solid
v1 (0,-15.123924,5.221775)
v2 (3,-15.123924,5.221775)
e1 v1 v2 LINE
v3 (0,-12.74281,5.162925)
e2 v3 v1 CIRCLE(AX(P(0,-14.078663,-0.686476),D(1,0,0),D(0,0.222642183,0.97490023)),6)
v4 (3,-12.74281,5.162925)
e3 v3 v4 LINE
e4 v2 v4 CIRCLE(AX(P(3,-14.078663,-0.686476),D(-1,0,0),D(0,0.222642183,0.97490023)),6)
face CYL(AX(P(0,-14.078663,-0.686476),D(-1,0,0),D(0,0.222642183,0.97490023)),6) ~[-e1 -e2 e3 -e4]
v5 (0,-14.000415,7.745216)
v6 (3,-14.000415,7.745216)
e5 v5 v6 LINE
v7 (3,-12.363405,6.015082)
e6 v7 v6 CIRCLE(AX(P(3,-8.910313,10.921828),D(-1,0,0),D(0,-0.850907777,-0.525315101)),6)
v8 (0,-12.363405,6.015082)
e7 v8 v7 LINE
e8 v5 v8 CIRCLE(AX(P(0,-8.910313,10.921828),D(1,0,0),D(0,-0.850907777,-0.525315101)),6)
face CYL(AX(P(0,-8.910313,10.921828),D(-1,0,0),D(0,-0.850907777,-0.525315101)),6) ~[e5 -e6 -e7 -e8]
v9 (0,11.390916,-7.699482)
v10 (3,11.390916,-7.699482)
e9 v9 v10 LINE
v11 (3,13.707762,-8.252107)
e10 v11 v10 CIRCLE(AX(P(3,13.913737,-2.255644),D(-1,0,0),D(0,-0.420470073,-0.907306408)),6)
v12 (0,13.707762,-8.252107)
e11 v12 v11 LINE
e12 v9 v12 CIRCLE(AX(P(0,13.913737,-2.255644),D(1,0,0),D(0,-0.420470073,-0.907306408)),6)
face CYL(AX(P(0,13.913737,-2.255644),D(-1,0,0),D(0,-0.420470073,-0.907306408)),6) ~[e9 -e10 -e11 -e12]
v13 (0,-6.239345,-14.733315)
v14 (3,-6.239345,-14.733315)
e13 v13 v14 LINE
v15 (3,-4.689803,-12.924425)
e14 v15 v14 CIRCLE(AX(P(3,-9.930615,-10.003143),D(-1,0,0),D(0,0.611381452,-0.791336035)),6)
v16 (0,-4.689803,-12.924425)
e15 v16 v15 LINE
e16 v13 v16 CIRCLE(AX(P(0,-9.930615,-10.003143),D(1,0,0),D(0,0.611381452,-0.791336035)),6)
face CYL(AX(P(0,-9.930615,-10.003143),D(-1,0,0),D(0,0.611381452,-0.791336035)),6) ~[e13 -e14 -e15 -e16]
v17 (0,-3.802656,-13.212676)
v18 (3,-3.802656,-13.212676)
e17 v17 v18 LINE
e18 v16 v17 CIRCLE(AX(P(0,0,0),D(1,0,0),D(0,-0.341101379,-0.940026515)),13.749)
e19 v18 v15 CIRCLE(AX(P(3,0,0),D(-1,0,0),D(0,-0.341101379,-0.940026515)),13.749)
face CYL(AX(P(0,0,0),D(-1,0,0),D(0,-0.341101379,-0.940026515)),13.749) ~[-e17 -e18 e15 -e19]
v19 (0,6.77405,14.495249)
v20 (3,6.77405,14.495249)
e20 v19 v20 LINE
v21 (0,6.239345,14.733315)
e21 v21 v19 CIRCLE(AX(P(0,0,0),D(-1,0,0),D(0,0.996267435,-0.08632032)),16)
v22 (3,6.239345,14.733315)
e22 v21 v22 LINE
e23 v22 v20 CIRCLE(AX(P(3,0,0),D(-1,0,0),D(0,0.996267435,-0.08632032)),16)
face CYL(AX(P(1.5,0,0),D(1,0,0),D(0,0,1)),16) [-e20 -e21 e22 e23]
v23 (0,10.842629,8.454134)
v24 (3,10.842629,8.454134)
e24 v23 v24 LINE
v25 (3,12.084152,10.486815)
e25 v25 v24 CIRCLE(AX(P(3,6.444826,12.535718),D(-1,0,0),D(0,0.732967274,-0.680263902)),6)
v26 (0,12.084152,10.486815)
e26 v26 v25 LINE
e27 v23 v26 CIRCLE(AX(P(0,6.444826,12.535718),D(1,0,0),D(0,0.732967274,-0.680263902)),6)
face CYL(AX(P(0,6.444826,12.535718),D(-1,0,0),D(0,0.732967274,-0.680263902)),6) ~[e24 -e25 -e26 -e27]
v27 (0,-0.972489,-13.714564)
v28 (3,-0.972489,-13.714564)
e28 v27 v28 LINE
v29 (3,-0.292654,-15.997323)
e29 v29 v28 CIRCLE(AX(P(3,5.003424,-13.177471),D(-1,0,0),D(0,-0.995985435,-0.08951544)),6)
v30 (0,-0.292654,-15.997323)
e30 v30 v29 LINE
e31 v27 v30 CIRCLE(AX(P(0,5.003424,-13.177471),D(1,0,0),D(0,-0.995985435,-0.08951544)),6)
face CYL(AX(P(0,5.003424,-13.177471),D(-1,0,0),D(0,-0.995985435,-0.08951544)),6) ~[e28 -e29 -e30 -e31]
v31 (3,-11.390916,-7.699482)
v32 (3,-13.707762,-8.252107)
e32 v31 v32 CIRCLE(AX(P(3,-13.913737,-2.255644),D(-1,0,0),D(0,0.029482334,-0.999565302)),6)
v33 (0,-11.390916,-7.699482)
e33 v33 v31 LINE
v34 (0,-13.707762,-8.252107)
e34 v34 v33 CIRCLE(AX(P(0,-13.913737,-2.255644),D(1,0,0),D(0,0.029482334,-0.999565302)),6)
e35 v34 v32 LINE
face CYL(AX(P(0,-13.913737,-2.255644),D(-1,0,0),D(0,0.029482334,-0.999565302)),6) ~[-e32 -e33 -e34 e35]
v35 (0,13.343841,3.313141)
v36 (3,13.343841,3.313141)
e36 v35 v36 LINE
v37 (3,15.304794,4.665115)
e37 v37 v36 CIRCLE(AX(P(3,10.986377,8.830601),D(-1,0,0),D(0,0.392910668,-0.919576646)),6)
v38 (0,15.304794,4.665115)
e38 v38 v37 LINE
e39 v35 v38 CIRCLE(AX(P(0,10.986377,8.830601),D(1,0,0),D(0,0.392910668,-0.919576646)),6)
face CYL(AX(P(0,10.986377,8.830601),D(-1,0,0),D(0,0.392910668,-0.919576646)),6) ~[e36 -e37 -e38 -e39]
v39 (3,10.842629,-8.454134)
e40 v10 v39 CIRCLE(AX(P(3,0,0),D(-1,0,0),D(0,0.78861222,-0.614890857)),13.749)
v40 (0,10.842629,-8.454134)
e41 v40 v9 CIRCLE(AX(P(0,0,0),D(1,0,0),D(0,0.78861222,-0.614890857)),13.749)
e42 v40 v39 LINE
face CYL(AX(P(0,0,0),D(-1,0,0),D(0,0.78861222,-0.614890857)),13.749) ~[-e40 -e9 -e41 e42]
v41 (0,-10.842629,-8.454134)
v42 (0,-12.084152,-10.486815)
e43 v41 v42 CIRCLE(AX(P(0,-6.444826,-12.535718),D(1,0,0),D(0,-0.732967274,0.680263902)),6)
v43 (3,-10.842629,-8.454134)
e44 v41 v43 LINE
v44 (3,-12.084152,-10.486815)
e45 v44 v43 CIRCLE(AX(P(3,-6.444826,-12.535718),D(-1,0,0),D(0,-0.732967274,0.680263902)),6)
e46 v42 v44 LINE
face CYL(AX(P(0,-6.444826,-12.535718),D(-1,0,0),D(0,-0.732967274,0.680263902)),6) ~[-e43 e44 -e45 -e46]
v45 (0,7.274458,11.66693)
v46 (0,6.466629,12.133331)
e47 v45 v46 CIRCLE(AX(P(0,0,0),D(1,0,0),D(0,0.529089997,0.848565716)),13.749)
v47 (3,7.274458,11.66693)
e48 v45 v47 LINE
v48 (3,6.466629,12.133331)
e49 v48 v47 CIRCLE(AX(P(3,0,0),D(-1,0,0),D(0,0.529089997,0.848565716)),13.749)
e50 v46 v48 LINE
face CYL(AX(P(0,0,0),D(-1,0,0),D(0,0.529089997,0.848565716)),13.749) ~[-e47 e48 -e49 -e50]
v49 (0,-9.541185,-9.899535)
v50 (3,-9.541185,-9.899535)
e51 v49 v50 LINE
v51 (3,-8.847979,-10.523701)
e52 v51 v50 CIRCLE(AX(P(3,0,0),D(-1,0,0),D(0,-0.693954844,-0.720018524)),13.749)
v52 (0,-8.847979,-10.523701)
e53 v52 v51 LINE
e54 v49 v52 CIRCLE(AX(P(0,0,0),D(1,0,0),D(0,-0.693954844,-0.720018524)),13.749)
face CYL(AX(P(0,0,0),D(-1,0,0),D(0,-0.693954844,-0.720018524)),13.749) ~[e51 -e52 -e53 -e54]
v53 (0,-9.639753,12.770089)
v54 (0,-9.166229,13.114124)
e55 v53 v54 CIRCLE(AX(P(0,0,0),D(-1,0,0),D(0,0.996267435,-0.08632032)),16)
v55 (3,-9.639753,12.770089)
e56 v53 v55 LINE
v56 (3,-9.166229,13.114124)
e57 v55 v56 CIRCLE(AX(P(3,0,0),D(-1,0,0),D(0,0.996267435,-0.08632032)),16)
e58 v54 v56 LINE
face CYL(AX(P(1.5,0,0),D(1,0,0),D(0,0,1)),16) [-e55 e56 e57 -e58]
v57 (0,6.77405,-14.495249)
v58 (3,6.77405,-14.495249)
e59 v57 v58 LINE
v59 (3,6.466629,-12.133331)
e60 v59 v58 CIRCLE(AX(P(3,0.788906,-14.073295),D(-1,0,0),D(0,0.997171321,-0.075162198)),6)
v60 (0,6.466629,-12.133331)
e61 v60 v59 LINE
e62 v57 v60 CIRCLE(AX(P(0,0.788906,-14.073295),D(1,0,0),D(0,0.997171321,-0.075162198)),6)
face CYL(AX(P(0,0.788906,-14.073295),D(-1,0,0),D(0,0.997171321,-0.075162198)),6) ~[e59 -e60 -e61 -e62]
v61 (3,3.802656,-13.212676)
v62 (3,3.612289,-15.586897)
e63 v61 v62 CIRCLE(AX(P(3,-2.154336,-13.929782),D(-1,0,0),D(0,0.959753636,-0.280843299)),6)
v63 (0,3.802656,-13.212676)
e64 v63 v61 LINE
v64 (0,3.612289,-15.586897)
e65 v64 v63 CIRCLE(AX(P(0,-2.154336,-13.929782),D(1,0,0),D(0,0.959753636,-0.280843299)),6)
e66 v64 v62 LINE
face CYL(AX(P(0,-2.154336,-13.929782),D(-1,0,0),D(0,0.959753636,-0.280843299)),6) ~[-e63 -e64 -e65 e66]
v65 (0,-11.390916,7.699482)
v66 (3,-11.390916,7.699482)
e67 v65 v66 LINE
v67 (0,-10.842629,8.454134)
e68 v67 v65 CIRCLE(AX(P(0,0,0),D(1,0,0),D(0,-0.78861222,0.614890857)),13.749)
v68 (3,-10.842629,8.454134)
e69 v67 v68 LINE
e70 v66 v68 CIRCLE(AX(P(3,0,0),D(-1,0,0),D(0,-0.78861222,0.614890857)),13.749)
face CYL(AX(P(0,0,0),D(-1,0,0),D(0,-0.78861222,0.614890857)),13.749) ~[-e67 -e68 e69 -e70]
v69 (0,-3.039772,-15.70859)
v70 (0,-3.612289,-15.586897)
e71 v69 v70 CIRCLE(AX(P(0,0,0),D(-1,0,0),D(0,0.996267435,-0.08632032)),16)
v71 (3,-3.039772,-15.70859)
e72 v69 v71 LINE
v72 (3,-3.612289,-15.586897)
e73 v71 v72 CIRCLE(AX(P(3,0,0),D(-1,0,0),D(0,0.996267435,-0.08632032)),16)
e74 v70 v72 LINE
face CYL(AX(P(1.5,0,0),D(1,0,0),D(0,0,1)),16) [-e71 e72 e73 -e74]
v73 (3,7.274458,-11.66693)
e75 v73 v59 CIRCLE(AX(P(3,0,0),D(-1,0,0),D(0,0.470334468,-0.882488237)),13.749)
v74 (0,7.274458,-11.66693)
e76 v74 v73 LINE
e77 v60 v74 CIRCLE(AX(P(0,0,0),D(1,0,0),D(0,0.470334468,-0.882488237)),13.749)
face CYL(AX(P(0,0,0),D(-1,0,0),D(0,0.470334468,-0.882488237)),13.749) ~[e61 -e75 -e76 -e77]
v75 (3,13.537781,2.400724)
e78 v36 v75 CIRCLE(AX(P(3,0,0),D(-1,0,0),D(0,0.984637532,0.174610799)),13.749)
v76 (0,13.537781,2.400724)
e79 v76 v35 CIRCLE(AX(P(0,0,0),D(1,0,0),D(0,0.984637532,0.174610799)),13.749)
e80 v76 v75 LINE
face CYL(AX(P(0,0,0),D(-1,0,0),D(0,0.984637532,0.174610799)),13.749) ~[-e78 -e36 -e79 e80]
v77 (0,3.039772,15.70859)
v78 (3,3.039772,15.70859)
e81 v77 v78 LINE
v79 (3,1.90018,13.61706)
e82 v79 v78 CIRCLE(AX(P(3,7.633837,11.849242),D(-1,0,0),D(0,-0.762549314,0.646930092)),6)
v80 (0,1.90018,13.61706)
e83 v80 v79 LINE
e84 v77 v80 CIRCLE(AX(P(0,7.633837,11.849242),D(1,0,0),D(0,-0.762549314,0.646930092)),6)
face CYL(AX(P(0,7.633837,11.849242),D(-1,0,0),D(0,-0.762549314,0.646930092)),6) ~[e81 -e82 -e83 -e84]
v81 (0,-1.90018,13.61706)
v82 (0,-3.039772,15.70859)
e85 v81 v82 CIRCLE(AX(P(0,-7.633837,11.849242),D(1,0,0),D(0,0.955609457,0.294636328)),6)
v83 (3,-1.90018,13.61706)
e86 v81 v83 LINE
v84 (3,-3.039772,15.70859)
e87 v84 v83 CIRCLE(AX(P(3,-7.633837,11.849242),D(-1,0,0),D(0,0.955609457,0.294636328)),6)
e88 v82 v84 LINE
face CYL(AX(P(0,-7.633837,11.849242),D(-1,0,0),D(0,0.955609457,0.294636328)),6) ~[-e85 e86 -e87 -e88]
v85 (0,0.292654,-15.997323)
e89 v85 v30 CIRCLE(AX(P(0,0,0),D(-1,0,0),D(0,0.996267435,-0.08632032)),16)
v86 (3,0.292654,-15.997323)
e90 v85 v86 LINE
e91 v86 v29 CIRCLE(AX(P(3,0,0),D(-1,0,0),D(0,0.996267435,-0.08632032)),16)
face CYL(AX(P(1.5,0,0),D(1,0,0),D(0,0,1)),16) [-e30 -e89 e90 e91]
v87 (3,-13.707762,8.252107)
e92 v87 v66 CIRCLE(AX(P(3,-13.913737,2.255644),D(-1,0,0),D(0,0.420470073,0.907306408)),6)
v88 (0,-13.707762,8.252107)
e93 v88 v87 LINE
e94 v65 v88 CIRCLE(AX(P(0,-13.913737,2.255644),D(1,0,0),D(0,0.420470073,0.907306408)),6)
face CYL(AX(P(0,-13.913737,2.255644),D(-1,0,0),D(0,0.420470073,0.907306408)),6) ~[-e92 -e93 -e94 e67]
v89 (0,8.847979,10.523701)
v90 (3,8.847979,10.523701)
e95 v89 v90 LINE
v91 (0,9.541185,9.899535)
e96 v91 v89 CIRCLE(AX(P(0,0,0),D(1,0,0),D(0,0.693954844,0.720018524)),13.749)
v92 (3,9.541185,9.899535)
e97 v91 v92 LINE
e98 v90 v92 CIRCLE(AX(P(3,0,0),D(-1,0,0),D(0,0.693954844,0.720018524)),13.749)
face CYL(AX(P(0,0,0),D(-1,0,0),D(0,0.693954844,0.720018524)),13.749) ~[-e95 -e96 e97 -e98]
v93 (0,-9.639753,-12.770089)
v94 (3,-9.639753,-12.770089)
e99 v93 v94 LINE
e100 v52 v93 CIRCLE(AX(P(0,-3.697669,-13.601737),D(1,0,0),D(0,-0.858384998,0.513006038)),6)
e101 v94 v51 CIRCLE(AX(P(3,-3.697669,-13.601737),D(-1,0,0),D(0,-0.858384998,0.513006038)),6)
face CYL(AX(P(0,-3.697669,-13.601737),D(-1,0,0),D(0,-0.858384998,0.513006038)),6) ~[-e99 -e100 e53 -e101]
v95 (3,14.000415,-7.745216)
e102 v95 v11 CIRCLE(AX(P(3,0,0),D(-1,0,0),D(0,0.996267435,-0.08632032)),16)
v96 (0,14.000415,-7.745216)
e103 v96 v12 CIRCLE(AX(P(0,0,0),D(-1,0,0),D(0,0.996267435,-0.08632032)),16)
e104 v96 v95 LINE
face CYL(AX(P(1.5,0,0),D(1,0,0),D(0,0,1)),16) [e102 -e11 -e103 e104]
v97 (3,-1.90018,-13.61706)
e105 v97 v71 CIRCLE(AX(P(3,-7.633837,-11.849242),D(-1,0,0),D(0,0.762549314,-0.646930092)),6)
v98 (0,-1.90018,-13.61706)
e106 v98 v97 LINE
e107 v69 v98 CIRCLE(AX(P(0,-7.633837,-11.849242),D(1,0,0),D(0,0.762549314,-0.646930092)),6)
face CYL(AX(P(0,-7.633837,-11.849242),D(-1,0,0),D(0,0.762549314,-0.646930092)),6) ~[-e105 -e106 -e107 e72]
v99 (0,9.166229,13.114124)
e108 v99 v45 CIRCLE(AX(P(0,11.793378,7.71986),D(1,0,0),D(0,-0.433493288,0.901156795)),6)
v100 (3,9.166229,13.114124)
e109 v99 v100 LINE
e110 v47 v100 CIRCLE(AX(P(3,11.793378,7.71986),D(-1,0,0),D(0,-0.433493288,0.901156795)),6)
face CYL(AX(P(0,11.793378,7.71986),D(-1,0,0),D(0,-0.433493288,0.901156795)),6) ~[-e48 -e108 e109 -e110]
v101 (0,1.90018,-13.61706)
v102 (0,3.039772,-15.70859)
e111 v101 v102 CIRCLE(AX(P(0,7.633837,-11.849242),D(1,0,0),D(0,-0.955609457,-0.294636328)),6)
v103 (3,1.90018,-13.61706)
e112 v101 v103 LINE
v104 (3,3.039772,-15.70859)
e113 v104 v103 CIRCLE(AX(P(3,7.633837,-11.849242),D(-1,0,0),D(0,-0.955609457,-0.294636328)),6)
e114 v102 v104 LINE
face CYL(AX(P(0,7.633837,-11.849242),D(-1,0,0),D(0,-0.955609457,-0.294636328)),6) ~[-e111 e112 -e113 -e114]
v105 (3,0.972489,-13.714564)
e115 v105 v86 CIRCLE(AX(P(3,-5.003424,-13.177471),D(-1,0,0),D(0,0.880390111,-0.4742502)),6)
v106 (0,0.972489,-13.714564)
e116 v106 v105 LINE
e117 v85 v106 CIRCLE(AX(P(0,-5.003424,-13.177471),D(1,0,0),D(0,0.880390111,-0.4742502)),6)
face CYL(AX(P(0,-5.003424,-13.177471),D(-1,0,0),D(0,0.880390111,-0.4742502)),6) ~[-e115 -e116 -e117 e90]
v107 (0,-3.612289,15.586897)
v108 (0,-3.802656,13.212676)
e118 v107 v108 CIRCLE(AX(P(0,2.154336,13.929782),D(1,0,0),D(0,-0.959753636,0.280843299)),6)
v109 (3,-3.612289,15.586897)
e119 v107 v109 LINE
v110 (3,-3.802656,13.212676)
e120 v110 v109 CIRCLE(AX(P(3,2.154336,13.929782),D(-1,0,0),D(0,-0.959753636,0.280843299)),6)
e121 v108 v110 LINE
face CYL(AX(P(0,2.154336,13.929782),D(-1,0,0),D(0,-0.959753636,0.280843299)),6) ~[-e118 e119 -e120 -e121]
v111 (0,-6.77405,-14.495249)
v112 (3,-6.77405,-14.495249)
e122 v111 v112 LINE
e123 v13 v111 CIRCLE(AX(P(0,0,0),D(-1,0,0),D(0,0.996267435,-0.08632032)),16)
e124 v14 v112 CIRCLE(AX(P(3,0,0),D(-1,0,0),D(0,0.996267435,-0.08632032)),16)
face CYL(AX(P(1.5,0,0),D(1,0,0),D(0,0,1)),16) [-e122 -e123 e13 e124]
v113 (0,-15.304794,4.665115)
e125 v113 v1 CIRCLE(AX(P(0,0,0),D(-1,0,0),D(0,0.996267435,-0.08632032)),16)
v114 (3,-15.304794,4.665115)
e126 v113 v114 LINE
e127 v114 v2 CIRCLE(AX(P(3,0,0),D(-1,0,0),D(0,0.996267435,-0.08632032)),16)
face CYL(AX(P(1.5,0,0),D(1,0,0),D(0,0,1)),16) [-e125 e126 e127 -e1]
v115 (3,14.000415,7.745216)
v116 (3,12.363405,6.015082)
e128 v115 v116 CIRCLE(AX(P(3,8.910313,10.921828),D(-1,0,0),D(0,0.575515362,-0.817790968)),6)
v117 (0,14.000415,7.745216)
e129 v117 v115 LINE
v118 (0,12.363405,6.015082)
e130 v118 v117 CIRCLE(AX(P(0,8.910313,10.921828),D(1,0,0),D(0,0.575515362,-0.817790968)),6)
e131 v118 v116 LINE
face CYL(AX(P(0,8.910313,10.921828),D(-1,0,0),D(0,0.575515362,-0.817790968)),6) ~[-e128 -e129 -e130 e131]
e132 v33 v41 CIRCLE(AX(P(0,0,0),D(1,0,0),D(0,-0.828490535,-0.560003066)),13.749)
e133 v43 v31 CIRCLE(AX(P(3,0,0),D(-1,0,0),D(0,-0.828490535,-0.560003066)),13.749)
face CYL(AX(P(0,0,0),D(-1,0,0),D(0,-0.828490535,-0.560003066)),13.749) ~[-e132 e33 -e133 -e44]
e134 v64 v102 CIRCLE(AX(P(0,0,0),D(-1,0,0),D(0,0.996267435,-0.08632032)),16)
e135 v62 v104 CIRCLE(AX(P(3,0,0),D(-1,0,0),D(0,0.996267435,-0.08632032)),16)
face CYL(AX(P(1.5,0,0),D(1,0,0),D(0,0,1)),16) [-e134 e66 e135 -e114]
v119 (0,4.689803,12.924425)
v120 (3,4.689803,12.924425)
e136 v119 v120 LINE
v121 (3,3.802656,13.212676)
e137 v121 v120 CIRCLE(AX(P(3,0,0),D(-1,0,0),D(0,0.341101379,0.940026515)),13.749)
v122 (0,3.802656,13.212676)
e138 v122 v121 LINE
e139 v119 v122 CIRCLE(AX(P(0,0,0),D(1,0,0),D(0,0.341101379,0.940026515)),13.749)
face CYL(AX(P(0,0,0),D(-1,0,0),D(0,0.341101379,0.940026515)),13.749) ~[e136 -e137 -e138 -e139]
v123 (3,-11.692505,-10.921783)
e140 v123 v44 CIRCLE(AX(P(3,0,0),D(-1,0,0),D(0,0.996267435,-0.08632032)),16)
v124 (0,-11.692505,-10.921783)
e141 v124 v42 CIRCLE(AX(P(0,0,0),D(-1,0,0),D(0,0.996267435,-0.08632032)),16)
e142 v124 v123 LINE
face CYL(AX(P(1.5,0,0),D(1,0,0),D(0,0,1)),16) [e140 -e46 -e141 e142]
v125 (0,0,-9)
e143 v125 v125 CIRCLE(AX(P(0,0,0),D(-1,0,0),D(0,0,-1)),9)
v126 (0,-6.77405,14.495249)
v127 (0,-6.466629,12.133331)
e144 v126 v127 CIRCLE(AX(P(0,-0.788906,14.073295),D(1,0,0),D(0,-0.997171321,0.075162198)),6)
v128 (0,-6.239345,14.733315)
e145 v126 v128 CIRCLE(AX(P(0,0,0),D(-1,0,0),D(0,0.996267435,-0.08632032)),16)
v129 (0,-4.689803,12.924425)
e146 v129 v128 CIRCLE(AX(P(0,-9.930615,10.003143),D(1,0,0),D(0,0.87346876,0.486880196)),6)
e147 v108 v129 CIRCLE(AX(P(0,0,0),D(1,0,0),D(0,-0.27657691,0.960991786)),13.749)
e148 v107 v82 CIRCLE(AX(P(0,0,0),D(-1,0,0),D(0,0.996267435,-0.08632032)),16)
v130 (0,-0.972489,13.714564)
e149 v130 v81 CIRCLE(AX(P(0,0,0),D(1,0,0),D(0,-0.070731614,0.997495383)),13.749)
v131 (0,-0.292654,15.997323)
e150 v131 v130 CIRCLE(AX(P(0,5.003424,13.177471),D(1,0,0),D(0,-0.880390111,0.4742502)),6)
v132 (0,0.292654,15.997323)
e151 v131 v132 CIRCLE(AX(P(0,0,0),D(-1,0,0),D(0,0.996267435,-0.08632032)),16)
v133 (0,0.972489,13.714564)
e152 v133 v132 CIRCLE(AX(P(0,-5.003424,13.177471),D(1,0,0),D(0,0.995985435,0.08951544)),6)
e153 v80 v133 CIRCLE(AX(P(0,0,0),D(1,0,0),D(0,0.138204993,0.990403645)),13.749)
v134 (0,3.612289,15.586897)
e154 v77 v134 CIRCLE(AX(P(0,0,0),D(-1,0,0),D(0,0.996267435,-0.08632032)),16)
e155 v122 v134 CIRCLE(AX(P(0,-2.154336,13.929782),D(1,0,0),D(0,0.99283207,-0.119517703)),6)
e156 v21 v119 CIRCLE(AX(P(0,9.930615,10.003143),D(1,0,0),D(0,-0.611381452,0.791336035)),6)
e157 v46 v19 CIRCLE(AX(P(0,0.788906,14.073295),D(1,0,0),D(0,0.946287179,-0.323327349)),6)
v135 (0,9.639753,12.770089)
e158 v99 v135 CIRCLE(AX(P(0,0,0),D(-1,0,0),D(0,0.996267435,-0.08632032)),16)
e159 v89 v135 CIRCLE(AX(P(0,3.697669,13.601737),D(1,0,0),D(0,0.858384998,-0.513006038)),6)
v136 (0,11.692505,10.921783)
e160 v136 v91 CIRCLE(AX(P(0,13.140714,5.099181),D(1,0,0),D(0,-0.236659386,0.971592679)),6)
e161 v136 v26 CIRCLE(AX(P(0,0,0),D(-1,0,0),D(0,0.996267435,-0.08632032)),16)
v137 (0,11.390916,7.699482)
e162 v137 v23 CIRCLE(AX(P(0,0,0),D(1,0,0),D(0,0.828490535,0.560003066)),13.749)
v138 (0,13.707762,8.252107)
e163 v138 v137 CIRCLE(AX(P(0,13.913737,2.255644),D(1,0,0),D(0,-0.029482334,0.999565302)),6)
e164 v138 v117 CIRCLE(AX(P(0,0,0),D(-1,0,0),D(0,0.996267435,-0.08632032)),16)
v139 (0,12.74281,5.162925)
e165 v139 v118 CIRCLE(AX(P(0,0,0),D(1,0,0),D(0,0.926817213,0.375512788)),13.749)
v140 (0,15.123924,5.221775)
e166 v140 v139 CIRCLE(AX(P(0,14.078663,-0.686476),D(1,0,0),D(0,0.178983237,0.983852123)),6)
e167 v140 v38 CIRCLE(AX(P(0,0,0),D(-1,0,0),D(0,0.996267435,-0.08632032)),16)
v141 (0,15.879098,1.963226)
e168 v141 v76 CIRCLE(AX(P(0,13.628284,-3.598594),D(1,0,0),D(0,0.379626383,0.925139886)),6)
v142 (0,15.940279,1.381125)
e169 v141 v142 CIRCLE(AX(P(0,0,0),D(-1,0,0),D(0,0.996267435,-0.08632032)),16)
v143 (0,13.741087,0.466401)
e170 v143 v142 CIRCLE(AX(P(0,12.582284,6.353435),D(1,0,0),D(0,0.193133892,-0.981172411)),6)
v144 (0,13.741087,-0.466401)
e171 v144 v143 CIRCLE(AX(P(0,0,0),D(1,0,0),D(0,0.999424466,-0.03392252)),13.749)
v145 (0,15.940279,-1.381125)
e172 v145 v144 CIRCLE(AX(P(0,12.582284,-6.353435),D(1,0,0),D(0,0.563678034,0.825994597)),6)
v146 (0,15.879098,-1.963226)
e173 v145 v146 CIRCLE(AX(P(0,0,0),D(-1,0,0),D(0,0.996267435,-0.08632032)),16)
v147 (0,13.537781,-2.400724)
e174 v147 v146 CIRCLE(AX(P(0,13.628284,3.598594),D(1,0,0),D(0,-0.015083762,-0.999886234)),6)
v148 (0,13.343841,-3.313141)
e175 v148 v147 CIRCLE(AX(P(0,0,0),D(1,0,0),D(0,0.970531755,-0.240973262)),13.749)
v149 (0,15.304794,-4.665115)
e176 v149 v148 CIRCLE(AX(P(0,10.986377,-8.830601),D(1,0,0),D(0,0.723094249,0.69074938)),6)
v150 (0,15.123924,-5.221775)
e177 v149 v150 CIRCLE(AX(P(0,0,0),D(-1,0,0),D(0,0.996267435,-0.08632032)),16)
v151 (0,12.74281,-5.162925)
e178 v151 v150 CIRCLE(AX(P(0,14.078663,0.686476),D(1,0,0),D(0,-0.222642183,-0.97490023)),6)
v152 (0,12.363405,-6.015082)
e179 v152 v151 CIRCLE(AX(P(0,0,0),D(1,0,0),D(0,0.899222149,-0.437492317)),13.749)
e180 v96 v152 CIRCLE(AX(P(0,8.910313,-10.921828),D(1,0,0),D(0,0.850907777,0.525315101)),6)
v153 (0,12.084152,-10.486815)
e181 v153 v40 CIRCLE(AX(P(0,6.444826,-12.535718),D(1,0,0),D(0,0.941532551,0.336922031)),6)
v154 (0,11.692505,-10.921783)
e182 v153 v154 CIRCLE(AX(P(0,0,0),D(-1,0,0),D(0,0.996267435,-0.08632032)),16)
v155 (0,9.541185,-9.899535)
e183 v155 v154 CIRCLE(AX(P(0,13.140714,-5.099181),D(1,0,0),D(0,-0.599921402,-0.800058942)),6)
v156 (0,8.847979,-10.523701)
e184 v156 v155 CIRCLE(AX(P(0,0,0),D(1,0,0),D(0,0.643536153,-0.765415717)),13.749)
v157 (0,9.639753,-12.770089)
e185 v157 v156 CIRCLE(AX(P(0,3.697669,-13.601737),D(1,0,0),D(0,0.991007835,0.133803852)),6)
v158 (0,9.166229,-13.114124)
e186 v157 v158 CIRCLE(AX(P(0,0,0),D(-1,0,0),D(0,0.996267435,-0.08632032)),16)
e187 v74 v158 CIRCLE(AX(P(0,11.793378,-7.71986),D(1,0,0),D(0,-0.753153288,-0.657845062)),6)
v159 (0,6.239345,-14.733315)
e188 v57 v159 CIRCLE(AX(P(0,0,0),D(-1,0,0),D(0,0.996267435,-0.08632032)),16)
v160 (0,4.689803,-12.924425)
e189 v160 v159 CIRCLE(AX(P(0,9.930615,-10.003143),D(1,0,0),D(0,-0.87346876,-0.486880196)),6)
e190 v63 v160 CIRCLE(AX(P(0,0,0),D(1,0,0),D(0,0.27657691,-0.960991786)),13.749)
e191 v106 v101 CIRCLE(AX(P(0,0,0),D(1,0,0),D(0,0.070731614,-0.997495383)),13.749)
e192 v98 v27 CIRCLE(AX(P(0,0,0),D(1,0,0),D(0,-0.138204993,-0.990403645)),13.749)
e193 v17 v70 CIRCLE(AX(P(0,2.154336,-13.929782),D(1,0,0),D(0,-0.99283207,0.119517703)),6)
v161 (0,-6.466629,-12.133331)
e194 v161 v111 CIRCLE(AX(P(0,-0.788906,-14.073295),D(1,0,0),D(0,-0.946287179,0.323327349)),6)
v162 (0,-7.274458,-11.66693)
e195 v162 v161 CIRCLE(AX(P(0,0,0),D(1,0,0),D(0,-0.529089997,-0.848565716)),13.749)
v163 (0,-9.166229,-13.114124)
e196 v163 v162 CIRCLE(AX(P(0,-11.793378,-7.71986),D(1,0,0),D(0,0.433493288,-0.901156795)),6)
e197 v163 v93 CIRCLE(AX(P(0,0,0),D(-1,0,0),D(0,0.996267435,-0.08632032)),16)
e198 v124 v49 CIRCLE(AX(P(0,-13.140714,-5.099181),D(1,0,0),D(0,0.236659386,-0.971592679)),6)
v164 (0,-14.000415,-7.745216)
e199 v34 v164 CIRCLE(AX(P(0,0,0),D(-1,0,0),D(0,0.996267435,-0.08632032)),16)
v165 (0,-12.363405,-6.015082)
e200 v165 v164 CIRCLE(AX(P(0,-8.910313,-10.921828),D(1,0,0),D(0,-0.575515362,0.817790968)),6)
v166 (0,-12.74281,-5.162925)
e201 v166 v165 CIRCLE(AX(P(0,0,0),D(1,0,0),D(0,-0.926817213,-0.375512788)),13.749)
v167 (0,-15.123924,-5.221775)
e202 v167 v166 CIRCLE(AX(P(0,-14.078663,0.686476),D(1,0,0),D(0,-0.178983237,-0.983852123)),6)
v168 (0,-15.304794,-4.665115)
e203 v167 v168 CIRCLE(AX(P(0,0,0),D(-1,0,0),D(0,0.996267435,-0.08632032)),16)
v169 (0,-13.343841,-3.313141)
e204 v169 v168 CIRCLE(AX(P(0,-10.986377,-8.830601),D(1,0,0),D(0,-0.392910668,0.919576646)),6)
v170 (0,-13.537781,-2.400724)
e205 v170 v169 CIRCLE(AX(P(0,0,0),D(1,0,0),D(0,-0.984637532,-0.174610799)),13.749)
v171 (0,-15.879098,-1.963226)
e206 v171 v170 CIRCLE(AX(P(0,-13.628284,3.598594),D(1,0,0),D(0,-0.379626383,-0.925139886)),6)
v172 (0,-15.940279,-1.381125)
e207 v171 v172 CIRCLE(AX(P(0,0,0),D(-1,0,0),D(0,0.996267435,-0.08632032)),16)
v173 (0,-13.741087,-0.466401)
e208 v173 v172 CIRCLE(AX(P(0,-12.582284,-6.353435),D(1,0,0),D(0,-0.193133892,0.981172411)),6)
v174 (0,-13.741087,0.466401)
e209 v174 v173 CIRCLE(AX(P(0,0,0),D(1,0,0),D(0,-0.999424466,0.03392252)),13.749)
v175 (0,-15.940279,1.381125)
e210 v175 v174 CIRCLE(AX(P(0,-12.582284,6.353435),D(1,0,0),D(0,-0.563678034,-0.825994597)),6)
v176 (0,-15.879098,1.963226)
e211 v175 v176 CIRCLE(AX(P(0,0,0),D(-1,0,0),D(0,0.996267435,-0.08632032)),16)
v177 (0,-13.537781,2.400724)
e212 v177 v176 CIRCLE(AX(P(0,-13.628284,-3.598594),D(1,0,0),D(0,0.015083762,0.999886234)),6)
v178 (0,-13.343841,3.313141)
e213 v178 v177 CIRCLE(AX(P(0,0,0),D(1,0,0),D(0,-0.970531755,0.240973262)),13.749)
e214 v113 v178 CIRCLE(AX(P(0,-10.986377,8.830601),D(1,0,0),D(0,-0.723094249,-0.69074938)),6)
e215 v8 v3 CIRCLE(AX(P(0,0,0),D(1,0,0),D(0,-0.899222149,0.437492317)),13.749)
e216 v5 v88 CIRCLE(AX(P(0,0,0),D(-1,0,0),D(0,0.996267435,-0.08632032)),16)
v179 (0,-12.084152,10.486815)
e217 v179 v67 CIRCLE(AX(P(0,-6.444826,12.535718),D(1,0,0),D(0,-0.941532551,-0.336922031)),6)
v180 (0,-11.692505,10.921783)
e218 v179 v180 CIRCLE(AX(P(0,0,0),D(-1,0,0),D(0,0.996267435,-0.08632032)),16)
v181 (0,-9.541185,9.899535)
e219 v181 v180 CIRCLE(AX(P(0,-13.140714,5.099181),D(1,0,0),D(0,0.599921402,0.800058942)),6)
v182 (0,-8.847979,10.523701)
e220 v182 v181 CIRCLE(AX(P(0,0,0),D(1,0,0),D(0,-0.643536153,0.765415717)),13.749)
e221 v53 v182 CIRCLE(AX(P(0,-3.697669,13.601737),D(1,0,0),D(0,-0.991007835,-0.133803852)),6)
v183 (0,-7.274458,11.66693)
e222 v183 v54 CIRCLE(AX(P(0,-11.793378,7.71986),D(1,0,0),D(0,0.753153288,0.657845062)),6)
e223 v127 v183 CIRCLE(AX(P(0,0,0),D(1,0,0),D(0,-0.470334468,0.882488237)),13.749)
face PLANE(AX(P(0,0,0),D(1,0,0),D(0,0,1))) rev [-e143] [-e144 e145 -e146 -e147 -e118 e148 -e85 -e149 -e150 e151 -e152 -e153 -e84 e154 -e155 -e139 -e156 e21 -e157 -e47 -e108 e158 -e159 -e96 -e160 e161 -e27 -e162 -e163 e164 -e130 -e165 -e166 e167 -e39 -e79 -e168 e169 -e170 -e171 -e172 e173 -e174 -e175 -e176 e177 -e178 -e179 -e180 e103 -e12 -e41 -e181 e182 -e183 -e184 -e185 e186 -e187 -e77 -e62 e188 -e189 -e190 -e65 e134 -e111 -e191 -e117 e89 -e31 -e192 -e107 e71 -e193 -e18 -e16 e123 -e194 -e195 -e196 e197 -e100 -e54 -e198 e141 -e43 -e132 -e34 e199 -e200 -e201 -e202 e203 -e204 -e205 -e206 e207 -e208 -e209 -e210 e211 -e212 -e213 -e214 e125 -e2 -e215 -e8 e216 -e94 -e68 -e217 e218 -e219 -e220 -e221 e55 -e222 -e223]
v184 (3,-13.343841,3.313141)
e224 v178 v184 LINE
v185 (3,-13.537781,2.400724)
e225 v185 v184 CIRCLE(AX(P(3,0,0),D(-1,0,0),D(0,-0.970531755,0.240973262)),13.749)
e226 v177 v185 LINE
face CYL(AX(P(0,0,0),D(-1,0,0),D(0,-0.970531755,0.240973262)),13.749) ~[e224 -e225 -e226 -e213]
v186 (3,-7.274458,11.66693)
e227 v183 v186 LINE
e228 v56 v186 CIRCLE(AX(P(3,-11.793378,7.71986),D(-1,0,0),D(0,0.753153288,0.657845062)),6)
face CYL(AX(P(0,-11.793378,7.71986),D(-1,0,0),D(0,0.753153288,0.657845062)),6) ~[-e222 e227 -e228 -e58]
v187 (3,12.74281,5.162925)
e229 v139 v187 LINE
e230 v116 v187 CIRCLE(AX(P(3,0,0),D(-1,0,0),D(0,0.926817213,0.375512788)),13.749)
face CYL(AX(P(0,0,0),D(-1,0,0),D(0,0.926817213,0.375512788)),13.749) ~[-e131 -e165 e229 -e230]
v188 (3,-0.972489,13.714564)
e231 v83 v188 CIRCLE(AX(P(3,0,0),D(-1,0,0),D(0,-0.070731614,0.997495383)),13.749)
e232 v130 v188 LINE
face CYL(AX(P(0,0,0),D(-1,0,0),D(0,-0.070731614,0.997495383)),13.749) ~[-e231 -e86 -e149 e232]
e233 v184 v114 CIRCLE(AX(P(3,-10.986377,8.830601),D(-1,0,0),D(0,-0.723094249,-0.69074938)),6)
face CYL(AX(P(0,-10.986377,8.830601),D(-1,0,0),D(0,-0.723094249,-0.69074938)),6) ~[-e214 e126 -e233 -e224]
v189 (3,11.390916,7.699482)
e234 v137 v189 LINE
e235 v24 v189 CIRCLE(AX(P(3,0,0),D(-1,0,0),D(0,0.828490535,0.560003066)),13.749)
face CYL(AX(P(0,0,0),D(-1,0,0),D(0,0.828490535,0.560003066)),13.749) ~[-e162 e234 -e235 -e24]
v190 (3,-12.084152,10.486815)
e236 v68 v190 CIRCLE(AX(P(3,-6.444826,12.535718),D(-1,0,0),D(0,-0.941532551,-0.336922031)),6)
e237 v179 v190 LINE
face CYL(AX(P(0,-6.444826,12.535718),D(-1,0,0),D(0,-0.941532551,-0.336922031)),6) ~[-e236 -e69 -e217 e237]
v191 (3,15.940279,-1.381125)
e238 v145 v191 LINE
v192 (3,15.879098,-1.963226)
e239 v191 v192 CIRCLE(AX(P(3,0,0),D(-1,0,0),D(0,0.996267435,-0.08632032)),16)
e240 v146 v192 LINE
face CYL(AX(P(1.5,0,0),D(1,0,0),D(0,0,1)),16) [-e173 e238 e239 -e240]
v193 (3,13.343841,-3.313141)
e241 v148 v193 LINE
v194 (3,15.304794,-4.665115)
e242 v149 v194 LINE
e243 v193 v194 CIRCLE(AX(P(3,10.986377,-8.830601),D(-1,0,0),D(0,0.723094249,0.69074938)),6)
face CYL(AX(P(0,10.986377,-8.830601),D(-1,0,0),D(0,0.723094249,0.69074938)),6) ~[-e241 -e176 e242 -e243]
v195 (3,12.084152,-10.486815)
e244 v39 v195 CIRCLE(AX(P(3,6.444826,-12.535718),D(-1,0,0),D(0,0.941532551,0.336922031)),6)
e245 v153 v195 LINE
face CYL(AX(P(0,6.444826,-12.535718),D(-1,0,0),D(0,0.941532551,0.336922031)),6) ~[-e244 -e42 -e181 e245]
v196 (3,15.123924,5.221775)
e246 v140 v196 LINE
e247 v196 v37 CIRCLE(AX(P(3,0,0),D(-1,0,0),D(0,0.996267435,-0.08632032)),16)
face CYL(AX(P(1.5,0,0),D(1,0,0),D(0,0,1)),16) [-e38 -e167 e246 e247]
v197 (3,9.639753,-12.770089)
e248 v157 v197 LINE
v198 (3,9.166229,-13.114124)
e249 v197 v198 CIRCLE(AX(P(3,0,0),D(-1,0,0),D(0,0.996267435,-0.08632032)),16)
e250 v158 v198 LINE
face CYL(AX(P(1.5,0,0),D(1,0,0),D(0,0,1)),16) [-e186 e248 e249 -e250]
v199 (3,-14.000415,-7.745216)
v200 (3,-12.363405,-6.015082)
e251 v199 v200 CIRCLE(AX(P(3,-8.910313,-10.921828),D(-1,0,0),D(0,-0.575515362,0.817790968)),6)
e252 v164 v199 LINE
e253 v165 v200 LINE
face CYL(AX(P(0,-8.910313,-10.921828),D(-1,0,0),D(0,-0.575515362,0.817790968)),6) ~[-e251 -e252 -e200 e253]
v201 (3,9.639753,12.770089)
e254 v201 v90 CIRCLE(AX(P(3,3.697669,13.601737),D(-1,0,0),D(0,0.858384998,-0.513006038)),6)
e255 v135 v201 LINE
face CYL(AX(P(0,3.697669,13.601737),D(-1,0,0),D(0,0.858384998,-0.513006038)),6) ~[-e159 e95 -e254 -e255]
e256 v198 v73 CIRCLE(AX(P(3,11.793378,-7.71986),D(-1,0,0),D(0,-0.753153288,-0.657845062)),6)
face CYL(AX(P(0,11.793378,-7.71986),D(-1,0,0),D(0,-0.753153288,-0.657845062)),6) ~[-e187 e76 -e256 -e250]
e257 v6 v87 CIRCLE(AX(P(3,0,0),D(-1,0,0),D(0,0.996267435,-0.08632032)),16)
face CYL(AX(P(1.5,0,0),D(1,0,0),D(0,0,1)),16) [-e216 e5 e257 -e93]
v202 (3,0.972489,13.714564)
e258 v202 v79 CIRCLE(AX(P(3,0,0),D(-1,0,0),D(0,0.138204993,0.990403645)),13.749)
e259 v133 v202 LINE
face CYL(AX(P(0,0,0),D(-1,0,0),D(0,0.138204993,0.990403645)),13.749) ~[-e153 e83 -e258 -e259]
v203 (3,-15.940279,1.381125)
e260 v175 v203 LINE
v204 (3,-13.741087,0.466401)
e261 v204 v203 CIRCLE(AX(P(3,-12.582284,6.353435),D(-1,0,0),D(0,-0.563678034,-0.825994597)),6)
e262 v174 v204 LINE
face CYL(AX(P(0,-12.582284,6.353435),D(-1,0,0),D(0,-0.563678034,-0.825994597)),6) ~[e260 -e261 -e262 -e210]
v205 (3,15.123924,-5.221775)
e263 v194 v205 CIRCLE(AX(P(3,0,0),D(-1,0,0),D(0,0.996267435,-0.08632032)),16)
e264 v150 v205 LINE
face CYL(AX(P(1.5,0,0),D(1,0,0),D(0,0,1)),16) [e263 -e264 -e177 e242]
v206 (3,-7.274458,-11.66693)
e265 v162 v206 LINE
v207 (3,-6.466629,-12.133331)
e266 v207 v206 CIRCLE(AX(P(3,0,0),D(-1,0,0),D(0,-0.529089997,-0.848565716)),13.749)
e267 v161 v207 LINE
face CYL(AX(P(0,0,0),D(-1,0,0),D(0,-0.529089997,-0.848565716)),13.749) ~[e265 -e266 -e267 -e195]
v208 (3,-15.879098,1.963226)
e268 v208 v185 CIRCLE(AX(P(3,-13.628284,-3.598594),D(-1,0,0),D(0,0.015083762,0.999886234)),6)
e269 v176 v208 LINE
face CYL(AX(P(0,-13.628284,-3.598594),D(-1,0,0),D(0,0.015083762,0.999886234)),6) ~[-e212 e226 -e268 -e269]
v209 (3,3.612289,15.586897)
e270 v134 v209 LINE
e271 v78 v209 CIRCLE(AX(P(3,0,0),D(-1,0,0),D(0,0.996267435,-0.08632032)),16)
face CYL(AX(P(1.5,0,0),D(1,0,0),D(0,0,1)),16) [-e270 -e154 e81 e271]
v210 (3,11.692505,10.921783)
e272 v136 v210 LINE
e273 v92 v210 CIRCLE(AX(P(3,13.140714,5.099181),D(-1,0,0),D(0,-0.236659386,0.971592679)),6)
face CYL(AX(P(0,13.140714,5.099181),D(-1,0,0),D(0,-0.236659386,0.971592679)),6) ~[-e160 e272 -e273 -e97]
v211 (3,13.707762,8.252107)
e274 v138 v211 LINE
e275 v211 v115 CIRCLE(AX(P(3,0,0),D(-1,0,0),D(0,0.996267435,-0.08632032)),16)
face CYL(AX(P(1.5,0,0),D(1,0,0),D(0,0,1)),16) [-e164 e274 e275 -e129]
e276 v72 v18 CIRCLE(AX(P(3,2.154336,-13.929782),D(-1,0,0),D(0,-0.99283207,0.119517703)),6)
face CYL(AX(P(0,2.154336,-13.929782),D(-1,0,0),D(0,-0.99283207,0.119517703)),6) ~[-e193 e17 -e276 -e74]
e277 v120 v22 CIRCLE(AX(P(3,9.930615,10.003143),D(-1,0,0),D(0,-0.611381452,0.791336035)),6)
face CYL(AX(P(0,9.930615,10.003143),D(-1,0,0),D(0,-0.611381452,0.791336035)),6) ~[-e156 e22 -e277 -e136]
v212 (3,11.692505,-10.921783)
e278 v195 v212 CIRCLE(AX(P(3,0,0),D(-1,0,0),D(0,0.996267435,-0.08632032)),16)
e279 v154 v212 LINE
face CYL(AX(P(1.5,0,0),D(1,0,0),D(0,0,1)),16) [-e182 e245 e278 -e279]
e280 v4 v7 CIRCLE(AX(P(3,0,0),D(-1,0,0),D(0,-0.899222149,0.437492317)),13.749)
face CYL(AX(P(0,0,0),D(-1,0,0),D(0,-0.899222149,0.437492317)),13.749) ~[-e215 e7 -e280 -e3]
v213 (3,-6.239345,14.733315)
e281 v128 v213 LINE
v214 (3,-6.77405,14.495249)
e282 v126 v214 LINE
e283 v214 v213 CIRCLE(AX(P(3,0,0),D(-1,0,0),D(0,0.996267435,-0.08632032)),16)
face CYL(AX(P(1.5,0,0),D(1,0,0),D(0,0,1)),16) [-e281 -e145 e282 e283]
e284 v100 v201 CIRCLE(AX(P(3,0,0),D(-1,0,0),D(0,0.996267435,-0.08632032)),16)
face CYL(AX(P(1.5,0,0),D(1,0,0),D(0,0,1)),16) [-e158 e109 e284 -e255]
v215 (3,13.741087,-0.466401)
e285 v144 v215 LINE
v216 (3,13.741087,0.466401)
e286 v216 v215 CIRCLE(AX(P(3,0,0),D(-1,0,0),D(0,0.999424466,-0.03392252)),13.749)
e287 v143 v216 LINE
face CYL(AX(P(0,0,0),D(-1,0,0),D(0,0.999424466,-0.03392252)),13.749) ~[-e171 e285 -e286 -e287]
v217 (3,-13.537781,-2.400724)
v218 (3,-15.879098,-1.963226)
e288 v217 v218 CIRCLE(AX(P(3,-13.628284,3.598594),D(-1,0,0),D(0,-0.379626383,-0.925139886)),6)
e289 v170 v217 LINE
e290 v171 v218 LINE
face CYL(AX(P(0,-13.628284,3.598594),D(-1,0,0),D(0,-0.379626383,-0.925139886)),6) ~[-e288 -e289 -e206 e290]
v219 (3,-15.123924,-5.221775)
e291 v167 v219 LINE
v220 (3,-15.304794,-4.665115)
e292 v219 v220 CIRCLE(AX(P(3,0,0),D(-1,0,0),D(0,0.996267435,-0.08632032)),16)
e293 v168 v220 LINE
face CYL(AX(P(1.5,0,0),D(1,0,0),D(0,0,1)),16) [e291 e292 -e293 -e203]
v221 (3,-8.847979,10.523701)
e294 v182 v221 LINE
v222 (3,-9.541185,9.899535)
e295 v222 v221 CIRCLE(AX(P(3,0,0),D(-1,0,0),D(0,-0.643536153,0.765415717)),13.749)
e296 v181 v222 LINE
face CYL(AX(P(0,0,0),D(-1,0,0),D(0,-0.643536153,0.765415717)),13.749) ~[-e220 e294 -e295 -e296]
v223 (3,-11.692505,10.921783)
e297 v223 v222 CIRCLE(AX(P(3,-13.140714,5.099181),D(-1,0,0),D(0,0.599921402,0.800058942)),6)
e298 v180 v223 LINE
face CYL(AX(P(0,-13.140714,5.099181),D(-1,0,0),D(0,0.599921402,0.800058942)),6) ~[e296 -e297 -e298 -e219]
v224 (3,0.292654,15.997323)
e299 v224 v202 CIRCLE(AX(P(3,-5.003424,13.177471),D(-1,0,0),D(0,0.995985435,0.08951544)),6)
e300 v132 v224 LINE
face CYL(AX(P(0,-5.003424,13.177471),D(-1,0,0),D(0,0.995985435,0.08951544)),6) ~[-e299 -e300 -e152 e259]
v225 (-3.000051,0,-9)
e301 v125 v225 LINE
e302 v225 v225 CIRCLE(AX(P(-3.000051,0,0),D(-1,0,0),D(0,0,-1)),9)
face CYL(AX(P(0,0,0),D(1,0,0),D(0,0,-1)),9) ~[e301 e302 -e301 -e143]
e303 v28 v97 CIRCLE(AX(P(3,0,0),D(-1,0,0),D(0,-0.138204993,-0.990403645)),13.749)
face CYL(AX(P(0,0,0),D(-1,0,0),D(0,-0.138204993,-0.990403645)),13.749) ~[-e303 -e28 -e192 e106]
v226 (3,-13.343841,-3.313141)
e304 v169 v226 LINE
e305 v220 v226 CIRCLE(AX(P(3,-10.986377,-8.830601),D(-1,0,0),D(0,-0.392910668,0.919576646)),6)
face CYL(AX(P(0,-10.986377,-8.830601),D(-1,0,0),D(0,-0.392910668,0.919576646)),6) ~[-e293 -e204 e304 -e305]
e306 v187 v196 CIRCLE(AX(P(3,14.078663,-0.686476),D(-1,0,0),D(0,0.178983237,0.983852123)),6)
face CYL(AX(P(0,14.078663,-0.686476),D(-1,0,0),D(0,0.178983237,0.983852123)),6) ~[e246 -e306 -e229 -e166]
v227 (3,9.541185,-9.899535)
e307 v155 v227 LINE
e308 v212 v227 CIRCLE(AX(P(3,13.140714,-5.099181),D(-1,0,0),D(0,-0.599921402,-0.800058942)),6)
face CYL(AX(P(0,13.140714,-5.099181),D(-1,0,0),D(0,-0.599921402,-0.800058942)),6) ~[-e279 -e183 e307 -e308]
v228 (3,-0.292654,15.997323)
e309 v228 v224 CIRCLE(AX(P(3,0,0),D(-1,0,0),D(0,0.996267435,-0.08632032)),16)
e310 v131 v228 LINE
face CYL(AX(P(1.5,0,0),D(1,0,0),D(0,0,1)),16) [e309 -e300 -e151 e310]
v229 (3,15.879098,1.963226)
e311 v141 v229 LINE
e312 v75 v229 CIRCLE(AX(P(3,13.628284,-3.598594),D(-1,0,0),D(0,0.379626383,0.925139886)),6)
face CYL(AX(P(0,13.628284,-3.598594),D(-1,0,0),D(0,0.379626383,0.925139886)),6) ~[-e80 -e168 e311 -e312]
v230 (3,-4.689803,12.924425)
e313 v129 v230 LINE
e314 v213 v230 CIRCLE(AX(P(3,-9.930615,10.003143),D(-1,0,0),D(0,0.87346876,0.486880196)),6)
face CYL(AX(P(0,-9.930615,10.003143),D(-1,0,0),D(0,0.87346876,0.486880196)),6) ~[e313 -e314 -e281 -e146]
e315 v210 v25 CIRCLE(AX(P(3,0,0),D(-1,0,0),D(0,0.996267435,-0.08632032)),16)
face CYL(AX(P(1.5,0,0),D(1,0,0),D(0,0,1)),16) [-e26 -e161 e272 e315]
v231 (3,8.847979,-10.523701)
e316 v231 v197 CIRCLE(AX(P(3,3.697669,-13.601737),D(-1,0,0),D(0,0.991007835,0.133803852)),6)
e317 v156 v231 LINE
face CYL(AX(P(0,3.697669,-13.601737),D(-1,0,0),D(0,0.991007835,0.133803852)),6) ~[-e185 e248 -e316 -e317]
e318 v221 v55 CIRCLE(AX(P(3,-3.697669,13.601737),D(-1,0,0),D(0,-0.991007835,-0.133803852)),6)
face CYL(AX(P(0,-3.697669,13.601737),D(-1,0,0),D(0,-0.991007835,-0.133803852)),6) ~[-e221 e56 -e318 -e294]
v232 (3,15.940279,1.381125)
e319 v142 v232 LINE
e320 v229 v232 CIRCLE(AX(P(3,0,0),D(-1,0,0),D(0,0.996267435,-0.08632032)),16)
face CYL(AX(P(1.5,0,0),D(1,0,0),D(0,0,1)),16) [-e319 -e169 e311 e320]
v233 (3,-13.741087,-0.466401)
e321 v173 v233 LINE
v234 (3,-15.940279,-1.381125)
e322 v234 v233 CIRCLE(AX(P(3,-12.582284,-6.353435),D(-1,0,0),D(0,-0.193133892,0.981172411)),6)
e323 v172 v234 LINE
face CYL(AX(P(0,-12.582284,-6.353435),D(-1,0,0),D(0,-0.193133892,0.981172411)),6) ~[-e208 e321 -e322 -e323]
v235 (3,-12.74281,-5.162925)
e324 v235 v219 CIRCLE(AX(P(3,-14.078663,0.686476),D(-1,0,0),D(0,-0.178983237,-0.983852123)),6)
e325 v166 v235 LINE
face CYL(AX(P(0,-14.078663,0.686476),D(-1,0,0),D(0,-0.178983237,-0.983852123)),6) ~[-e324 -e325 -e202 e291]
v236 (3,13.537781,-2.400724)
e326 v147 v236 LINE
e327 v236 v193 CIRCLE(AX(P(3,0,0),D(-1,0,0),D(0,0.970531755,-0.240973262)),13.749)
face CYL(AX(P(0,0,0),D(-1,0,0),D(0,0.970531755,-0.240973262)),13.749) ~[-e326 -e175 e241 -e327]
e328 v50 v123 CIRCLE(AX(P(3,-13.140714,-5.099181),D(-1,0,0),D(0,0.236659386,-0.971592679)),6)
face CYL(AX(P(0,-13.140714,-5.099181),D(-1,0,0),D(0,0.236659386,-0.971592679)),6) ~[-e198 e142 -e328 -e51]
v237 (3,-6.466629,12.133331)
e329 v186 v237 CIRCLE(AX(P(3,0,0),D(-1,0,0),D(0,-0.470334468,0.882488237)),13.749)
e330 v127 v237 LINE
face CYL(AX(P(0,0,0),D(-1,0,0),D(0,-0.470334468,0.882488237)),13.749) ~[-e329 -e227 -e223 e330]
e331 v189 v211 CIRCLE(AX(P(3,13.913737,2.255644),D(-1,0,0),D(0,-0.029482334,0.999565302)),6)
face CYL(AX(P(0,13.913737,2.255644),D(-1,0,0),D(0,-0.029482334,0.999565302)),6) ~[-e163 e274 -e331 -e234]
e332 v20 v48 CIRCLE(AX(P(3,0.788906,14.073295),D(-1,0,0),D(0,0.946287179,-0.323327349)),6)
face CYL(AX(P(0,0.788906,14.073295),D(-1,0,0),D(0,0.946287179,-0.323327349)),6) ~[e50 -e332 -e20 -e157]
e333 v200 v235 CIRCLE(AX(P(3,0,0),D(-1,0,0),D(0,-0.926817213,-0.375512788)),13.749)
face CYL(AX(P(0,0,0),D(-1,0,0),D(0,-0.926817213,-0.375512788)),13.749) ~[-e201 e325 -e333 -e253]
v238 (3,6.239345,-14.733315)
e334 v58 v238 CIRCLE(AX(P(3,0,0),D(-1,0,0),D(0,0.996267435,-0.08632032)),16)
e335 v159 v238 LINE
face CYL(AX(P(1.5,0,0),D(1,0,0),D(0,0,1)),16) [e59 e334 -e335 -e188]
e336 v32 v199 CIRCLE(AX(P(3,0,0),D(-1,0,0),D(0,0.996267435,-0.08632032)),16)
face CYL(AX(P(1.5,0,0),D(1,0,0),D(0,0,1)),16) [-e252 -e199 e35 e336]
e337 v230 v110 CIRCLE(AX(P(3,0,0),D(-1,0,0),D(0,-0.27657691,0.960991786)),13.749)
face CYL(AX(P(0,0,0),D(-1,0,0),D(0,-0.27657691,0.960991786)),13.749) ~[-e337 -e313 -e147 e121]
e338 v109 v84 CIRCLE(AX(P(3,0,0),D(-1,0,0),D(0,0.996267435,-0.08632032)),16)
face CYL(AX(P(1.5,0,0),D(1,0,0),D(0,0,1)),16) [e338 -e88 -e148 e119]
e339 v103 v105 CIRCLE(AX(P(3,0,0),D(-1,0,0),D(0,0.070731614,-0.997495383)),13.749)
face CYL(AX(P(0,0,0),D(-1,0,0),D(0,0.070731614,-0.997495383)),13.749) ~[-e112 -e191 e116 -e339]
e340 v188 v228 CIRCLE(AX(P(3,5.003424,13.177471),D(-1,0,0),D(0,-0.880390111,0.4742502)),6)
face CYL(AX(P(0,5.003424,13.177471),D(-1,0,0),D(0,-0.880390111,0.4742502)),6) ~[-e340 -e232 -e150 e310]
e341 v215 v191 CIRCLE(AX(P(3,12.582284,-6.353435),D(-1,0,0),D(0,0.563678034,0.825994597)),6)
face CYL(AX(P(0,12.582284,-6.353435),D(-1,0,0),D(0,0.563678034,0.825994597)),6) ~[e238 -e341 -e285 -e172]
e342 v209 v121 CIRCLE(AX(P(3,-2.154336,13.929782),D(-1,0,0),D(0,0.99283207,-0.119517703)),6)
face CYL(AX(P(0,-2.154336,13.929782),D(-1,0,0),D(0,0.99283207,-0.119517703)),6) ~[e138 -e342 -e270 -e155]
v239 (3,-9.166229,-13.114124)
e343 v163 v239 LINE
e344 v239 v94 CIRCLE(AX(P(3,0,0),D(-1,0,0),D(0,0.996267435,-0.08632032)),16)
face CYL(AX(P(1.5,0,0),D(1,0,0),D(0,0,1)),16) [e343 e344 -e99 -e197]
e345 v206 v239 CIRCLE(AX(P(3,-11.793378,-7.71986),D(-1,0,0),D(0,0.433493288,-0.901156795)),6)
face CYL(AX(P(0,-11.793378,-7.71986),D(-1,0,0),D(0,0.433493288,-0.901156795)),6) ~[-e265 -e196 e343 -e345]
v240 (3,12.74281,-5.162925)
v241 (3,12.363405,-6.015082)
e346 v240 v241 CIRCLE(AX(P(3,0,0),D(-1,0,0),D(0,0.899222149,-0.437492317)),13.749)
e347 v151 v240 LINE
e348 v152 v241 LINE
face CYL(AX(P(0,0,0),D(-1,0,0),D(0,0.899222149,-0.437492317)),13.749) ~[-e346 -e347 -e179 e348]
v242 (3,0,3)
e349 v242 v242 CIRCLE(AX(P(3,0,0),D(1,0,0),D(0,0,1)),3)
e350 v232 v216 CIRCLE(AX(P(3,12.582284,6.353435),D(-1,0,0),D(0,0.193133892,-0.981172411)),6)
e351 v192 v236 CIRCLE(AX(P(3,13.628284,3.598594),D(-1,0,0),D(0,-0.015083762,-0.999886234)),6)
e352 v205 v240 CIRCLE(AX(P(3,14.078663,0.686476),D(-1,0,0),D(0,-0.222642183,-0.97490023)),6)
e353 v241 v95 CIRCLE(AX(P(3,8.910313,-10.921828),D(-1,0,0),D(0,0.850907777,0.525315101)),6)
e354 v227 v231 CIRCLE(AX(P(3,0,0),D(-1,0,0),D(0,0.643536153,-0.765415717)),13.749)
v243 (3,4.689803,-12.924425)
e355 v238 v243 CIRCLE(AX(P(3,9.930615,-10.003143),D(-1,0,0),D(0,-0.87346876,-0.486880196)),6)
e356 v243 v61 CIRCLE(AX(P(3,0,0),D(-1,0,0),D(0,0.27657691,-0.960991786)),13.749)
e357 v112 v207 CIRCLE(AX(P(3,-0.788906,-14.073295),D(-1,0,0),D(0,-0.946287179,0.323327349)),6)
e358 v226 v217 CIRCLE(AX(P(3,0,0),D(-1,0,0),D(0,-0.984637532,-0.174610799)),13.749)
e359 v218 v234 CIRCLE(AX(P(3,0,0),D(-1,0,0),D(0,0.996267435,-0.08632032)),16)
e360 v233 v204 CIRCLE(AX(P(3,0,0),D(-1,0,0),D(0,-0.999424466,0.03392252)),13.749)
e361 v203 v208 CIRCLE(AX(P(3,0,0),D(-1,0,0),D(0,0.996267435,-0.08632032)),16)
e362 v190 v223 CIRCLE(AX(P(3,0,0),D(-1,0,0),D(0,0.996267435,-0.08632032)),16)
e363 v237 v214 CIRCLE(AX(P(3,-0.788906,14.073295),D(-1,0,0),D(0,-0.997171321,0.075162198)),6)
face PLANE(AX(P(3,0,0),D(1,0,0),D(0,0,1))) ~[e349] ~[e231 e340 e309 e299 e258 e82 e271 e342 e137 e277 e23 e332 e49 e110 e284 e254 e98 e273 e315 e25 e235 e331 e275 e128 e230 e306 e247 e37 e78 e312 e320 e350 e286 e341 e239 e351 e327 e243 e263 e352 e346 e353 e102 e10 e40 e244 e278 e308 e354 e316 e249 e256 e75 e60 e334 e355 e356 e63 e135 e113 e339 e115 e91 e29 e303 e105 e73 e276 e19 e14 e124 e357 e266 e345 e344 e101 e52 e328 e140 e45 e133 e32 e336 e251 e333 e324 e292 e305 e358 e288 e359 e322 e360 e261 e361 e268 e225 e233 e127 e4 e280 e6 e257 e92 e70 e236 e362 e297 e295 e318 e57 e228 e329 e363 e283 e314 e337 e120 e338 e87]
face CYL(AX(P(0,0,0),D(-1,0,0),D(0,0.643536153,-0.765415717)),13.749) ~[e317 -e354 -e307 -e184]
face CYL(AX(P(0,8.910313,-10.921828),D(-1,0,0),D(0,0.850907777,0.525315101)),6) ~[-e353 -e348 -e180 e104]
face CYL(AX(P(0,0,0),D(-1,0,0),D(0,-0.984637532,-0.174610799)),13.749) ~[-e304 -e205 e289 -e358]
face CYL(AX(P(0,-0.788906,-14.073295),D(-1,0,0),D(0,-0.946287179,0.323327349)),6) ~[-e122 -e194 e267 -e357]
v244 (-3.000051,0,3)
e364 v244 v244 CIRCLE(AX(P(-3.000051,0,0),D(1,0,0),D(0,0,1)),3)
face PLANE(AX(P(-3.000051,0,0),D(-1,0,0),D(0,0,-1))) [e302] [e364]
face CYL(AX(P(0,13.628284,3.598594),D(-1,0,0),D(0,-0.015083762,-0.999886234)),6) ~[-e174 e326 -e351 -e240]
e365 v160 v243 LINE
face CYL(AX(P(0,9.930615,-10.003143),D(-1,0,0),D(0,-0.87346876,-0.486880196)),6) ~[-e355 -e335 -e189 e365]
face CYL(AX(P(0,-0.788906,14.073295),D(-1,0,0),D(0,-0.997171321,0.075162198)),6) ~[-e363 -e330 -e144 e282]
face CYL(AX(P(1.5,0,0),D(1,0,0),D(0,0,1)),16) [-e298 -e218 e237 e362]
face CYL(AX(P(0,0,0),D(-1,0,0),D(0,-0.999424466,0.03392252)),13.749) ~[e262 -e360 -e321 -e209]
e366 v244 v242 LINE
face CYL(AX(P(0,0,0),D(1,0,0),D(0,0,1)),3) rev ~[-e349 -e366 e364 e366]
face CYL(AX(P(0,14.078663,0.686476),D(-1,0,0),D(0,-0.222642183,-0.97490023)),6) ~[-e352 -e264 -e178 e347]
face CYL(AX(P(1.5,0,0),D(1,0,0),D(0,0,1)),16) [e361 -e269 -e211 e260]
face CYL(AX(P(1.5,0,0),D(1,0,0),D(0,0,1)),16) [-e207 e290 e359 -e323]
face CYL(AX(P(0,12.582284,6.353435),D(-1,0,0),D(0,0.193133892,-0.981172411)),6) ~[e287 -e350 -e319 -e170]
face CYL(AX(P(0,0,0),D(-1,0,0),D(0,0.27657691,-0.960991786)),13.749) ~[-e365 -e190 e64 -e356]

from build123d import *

# Parameters (mm, degrees)
BASPROSKE_W      = 3
BASPROSKE_H      = 16
TOOTHCUT_DEPTH   = 23.825424421
TEETHCUTS_COUNT  = 30
TEETHCUTS_ANGLE  = 348
HUBNEAONESKE_R   = 9
HUBNEARONE_DEPTH = 3.0000508
BORSKE_R         = 3
BORE_DEPTH       = 6.0000508


with BuildPart() as part:
    # BasProSke → Base-Revolve (revolve)
    with BuildSketch(Plane(origin=(0, 0, 0), x_dir=(1, 0, 0), z_dir=(0, 1, 0)), mode=Mode.PRIVATE) as base_revolve_sk:
        with Locations((1.5, 8)):
            Rectangle(BASPROSKE_W, BASPROSKE_H)
    revolve(base_revolve_sk.sketch.rotate(Axis((-10, 0, 0), (1, 0, 0)), 180), axis=Axis((-10, 0, 0), (1, 0, 0)))

    # TooCutSke → ToothCut (cut, through all)
    with BuildSketch(Plane(origin=(0, 0, 0), x_dir=(0, 0, -1), z_dir=(1, 0, 0))):
        with BuildLine():
            ThreePointArc((0.466400716, 13.741086979), (0, 13.749), (-0.466400716, 13.741086979))
            ThreePointArc((-0.466400716, 13.741086979), (-0.819142092, 14.899954875), (-1.3974676, 15.964351834))
            ThreePointArc((-1.3974676, 15.964351834), (0, 16.0254), (1.3974676, 15.964351834))
            ThreePointArc((1.3974676, 15.964351834), (0.819142092, 14.899954875), (0.466400716, 13.741086979))
        make_face()
    toothcut = extrude(amount=TOOTHCUT_DEPTH, mode=Mode.SUBTRACT)

    # TeethCuts: ToothCut ×30 about axis
    teethcuts_axis = Axis((-10, 0, 0), (1, 0, 0))
    for i in range(1, TEETHCUTS_COUNT):
        add(toothcut.rotate(teethcuts_axis, i * TEETHCUTS_ANGLE / (TEETHCUTS_COUNT - 1)), mode=Mode.SUBTRACT)

    # HubNeaOneSke → HubNearOne (add)
    with BuildSketch(Plane.ZY):
        with Locations(Location((0, 0, 0), (0, 0, 180))):
            Circle(HUBNEAONESKE_R)
    extrude(amount=HUBNEARONE_DEPTH)

    # BorSke → Bore (cut, symmetric)
    with BuildSketch(Plane(origin=(0, 0, 0), x_dir=(0, 0, -1), z_dir=(1, 0, 0))):
        with Locations(Location((0, 0, 0), (0, 0, 180))):
            Circle(BORSKE_R)
    extrude(amount=BORE_DEPTH, both=True, mode=Mode.SUBTRACT)


solid = part.part
